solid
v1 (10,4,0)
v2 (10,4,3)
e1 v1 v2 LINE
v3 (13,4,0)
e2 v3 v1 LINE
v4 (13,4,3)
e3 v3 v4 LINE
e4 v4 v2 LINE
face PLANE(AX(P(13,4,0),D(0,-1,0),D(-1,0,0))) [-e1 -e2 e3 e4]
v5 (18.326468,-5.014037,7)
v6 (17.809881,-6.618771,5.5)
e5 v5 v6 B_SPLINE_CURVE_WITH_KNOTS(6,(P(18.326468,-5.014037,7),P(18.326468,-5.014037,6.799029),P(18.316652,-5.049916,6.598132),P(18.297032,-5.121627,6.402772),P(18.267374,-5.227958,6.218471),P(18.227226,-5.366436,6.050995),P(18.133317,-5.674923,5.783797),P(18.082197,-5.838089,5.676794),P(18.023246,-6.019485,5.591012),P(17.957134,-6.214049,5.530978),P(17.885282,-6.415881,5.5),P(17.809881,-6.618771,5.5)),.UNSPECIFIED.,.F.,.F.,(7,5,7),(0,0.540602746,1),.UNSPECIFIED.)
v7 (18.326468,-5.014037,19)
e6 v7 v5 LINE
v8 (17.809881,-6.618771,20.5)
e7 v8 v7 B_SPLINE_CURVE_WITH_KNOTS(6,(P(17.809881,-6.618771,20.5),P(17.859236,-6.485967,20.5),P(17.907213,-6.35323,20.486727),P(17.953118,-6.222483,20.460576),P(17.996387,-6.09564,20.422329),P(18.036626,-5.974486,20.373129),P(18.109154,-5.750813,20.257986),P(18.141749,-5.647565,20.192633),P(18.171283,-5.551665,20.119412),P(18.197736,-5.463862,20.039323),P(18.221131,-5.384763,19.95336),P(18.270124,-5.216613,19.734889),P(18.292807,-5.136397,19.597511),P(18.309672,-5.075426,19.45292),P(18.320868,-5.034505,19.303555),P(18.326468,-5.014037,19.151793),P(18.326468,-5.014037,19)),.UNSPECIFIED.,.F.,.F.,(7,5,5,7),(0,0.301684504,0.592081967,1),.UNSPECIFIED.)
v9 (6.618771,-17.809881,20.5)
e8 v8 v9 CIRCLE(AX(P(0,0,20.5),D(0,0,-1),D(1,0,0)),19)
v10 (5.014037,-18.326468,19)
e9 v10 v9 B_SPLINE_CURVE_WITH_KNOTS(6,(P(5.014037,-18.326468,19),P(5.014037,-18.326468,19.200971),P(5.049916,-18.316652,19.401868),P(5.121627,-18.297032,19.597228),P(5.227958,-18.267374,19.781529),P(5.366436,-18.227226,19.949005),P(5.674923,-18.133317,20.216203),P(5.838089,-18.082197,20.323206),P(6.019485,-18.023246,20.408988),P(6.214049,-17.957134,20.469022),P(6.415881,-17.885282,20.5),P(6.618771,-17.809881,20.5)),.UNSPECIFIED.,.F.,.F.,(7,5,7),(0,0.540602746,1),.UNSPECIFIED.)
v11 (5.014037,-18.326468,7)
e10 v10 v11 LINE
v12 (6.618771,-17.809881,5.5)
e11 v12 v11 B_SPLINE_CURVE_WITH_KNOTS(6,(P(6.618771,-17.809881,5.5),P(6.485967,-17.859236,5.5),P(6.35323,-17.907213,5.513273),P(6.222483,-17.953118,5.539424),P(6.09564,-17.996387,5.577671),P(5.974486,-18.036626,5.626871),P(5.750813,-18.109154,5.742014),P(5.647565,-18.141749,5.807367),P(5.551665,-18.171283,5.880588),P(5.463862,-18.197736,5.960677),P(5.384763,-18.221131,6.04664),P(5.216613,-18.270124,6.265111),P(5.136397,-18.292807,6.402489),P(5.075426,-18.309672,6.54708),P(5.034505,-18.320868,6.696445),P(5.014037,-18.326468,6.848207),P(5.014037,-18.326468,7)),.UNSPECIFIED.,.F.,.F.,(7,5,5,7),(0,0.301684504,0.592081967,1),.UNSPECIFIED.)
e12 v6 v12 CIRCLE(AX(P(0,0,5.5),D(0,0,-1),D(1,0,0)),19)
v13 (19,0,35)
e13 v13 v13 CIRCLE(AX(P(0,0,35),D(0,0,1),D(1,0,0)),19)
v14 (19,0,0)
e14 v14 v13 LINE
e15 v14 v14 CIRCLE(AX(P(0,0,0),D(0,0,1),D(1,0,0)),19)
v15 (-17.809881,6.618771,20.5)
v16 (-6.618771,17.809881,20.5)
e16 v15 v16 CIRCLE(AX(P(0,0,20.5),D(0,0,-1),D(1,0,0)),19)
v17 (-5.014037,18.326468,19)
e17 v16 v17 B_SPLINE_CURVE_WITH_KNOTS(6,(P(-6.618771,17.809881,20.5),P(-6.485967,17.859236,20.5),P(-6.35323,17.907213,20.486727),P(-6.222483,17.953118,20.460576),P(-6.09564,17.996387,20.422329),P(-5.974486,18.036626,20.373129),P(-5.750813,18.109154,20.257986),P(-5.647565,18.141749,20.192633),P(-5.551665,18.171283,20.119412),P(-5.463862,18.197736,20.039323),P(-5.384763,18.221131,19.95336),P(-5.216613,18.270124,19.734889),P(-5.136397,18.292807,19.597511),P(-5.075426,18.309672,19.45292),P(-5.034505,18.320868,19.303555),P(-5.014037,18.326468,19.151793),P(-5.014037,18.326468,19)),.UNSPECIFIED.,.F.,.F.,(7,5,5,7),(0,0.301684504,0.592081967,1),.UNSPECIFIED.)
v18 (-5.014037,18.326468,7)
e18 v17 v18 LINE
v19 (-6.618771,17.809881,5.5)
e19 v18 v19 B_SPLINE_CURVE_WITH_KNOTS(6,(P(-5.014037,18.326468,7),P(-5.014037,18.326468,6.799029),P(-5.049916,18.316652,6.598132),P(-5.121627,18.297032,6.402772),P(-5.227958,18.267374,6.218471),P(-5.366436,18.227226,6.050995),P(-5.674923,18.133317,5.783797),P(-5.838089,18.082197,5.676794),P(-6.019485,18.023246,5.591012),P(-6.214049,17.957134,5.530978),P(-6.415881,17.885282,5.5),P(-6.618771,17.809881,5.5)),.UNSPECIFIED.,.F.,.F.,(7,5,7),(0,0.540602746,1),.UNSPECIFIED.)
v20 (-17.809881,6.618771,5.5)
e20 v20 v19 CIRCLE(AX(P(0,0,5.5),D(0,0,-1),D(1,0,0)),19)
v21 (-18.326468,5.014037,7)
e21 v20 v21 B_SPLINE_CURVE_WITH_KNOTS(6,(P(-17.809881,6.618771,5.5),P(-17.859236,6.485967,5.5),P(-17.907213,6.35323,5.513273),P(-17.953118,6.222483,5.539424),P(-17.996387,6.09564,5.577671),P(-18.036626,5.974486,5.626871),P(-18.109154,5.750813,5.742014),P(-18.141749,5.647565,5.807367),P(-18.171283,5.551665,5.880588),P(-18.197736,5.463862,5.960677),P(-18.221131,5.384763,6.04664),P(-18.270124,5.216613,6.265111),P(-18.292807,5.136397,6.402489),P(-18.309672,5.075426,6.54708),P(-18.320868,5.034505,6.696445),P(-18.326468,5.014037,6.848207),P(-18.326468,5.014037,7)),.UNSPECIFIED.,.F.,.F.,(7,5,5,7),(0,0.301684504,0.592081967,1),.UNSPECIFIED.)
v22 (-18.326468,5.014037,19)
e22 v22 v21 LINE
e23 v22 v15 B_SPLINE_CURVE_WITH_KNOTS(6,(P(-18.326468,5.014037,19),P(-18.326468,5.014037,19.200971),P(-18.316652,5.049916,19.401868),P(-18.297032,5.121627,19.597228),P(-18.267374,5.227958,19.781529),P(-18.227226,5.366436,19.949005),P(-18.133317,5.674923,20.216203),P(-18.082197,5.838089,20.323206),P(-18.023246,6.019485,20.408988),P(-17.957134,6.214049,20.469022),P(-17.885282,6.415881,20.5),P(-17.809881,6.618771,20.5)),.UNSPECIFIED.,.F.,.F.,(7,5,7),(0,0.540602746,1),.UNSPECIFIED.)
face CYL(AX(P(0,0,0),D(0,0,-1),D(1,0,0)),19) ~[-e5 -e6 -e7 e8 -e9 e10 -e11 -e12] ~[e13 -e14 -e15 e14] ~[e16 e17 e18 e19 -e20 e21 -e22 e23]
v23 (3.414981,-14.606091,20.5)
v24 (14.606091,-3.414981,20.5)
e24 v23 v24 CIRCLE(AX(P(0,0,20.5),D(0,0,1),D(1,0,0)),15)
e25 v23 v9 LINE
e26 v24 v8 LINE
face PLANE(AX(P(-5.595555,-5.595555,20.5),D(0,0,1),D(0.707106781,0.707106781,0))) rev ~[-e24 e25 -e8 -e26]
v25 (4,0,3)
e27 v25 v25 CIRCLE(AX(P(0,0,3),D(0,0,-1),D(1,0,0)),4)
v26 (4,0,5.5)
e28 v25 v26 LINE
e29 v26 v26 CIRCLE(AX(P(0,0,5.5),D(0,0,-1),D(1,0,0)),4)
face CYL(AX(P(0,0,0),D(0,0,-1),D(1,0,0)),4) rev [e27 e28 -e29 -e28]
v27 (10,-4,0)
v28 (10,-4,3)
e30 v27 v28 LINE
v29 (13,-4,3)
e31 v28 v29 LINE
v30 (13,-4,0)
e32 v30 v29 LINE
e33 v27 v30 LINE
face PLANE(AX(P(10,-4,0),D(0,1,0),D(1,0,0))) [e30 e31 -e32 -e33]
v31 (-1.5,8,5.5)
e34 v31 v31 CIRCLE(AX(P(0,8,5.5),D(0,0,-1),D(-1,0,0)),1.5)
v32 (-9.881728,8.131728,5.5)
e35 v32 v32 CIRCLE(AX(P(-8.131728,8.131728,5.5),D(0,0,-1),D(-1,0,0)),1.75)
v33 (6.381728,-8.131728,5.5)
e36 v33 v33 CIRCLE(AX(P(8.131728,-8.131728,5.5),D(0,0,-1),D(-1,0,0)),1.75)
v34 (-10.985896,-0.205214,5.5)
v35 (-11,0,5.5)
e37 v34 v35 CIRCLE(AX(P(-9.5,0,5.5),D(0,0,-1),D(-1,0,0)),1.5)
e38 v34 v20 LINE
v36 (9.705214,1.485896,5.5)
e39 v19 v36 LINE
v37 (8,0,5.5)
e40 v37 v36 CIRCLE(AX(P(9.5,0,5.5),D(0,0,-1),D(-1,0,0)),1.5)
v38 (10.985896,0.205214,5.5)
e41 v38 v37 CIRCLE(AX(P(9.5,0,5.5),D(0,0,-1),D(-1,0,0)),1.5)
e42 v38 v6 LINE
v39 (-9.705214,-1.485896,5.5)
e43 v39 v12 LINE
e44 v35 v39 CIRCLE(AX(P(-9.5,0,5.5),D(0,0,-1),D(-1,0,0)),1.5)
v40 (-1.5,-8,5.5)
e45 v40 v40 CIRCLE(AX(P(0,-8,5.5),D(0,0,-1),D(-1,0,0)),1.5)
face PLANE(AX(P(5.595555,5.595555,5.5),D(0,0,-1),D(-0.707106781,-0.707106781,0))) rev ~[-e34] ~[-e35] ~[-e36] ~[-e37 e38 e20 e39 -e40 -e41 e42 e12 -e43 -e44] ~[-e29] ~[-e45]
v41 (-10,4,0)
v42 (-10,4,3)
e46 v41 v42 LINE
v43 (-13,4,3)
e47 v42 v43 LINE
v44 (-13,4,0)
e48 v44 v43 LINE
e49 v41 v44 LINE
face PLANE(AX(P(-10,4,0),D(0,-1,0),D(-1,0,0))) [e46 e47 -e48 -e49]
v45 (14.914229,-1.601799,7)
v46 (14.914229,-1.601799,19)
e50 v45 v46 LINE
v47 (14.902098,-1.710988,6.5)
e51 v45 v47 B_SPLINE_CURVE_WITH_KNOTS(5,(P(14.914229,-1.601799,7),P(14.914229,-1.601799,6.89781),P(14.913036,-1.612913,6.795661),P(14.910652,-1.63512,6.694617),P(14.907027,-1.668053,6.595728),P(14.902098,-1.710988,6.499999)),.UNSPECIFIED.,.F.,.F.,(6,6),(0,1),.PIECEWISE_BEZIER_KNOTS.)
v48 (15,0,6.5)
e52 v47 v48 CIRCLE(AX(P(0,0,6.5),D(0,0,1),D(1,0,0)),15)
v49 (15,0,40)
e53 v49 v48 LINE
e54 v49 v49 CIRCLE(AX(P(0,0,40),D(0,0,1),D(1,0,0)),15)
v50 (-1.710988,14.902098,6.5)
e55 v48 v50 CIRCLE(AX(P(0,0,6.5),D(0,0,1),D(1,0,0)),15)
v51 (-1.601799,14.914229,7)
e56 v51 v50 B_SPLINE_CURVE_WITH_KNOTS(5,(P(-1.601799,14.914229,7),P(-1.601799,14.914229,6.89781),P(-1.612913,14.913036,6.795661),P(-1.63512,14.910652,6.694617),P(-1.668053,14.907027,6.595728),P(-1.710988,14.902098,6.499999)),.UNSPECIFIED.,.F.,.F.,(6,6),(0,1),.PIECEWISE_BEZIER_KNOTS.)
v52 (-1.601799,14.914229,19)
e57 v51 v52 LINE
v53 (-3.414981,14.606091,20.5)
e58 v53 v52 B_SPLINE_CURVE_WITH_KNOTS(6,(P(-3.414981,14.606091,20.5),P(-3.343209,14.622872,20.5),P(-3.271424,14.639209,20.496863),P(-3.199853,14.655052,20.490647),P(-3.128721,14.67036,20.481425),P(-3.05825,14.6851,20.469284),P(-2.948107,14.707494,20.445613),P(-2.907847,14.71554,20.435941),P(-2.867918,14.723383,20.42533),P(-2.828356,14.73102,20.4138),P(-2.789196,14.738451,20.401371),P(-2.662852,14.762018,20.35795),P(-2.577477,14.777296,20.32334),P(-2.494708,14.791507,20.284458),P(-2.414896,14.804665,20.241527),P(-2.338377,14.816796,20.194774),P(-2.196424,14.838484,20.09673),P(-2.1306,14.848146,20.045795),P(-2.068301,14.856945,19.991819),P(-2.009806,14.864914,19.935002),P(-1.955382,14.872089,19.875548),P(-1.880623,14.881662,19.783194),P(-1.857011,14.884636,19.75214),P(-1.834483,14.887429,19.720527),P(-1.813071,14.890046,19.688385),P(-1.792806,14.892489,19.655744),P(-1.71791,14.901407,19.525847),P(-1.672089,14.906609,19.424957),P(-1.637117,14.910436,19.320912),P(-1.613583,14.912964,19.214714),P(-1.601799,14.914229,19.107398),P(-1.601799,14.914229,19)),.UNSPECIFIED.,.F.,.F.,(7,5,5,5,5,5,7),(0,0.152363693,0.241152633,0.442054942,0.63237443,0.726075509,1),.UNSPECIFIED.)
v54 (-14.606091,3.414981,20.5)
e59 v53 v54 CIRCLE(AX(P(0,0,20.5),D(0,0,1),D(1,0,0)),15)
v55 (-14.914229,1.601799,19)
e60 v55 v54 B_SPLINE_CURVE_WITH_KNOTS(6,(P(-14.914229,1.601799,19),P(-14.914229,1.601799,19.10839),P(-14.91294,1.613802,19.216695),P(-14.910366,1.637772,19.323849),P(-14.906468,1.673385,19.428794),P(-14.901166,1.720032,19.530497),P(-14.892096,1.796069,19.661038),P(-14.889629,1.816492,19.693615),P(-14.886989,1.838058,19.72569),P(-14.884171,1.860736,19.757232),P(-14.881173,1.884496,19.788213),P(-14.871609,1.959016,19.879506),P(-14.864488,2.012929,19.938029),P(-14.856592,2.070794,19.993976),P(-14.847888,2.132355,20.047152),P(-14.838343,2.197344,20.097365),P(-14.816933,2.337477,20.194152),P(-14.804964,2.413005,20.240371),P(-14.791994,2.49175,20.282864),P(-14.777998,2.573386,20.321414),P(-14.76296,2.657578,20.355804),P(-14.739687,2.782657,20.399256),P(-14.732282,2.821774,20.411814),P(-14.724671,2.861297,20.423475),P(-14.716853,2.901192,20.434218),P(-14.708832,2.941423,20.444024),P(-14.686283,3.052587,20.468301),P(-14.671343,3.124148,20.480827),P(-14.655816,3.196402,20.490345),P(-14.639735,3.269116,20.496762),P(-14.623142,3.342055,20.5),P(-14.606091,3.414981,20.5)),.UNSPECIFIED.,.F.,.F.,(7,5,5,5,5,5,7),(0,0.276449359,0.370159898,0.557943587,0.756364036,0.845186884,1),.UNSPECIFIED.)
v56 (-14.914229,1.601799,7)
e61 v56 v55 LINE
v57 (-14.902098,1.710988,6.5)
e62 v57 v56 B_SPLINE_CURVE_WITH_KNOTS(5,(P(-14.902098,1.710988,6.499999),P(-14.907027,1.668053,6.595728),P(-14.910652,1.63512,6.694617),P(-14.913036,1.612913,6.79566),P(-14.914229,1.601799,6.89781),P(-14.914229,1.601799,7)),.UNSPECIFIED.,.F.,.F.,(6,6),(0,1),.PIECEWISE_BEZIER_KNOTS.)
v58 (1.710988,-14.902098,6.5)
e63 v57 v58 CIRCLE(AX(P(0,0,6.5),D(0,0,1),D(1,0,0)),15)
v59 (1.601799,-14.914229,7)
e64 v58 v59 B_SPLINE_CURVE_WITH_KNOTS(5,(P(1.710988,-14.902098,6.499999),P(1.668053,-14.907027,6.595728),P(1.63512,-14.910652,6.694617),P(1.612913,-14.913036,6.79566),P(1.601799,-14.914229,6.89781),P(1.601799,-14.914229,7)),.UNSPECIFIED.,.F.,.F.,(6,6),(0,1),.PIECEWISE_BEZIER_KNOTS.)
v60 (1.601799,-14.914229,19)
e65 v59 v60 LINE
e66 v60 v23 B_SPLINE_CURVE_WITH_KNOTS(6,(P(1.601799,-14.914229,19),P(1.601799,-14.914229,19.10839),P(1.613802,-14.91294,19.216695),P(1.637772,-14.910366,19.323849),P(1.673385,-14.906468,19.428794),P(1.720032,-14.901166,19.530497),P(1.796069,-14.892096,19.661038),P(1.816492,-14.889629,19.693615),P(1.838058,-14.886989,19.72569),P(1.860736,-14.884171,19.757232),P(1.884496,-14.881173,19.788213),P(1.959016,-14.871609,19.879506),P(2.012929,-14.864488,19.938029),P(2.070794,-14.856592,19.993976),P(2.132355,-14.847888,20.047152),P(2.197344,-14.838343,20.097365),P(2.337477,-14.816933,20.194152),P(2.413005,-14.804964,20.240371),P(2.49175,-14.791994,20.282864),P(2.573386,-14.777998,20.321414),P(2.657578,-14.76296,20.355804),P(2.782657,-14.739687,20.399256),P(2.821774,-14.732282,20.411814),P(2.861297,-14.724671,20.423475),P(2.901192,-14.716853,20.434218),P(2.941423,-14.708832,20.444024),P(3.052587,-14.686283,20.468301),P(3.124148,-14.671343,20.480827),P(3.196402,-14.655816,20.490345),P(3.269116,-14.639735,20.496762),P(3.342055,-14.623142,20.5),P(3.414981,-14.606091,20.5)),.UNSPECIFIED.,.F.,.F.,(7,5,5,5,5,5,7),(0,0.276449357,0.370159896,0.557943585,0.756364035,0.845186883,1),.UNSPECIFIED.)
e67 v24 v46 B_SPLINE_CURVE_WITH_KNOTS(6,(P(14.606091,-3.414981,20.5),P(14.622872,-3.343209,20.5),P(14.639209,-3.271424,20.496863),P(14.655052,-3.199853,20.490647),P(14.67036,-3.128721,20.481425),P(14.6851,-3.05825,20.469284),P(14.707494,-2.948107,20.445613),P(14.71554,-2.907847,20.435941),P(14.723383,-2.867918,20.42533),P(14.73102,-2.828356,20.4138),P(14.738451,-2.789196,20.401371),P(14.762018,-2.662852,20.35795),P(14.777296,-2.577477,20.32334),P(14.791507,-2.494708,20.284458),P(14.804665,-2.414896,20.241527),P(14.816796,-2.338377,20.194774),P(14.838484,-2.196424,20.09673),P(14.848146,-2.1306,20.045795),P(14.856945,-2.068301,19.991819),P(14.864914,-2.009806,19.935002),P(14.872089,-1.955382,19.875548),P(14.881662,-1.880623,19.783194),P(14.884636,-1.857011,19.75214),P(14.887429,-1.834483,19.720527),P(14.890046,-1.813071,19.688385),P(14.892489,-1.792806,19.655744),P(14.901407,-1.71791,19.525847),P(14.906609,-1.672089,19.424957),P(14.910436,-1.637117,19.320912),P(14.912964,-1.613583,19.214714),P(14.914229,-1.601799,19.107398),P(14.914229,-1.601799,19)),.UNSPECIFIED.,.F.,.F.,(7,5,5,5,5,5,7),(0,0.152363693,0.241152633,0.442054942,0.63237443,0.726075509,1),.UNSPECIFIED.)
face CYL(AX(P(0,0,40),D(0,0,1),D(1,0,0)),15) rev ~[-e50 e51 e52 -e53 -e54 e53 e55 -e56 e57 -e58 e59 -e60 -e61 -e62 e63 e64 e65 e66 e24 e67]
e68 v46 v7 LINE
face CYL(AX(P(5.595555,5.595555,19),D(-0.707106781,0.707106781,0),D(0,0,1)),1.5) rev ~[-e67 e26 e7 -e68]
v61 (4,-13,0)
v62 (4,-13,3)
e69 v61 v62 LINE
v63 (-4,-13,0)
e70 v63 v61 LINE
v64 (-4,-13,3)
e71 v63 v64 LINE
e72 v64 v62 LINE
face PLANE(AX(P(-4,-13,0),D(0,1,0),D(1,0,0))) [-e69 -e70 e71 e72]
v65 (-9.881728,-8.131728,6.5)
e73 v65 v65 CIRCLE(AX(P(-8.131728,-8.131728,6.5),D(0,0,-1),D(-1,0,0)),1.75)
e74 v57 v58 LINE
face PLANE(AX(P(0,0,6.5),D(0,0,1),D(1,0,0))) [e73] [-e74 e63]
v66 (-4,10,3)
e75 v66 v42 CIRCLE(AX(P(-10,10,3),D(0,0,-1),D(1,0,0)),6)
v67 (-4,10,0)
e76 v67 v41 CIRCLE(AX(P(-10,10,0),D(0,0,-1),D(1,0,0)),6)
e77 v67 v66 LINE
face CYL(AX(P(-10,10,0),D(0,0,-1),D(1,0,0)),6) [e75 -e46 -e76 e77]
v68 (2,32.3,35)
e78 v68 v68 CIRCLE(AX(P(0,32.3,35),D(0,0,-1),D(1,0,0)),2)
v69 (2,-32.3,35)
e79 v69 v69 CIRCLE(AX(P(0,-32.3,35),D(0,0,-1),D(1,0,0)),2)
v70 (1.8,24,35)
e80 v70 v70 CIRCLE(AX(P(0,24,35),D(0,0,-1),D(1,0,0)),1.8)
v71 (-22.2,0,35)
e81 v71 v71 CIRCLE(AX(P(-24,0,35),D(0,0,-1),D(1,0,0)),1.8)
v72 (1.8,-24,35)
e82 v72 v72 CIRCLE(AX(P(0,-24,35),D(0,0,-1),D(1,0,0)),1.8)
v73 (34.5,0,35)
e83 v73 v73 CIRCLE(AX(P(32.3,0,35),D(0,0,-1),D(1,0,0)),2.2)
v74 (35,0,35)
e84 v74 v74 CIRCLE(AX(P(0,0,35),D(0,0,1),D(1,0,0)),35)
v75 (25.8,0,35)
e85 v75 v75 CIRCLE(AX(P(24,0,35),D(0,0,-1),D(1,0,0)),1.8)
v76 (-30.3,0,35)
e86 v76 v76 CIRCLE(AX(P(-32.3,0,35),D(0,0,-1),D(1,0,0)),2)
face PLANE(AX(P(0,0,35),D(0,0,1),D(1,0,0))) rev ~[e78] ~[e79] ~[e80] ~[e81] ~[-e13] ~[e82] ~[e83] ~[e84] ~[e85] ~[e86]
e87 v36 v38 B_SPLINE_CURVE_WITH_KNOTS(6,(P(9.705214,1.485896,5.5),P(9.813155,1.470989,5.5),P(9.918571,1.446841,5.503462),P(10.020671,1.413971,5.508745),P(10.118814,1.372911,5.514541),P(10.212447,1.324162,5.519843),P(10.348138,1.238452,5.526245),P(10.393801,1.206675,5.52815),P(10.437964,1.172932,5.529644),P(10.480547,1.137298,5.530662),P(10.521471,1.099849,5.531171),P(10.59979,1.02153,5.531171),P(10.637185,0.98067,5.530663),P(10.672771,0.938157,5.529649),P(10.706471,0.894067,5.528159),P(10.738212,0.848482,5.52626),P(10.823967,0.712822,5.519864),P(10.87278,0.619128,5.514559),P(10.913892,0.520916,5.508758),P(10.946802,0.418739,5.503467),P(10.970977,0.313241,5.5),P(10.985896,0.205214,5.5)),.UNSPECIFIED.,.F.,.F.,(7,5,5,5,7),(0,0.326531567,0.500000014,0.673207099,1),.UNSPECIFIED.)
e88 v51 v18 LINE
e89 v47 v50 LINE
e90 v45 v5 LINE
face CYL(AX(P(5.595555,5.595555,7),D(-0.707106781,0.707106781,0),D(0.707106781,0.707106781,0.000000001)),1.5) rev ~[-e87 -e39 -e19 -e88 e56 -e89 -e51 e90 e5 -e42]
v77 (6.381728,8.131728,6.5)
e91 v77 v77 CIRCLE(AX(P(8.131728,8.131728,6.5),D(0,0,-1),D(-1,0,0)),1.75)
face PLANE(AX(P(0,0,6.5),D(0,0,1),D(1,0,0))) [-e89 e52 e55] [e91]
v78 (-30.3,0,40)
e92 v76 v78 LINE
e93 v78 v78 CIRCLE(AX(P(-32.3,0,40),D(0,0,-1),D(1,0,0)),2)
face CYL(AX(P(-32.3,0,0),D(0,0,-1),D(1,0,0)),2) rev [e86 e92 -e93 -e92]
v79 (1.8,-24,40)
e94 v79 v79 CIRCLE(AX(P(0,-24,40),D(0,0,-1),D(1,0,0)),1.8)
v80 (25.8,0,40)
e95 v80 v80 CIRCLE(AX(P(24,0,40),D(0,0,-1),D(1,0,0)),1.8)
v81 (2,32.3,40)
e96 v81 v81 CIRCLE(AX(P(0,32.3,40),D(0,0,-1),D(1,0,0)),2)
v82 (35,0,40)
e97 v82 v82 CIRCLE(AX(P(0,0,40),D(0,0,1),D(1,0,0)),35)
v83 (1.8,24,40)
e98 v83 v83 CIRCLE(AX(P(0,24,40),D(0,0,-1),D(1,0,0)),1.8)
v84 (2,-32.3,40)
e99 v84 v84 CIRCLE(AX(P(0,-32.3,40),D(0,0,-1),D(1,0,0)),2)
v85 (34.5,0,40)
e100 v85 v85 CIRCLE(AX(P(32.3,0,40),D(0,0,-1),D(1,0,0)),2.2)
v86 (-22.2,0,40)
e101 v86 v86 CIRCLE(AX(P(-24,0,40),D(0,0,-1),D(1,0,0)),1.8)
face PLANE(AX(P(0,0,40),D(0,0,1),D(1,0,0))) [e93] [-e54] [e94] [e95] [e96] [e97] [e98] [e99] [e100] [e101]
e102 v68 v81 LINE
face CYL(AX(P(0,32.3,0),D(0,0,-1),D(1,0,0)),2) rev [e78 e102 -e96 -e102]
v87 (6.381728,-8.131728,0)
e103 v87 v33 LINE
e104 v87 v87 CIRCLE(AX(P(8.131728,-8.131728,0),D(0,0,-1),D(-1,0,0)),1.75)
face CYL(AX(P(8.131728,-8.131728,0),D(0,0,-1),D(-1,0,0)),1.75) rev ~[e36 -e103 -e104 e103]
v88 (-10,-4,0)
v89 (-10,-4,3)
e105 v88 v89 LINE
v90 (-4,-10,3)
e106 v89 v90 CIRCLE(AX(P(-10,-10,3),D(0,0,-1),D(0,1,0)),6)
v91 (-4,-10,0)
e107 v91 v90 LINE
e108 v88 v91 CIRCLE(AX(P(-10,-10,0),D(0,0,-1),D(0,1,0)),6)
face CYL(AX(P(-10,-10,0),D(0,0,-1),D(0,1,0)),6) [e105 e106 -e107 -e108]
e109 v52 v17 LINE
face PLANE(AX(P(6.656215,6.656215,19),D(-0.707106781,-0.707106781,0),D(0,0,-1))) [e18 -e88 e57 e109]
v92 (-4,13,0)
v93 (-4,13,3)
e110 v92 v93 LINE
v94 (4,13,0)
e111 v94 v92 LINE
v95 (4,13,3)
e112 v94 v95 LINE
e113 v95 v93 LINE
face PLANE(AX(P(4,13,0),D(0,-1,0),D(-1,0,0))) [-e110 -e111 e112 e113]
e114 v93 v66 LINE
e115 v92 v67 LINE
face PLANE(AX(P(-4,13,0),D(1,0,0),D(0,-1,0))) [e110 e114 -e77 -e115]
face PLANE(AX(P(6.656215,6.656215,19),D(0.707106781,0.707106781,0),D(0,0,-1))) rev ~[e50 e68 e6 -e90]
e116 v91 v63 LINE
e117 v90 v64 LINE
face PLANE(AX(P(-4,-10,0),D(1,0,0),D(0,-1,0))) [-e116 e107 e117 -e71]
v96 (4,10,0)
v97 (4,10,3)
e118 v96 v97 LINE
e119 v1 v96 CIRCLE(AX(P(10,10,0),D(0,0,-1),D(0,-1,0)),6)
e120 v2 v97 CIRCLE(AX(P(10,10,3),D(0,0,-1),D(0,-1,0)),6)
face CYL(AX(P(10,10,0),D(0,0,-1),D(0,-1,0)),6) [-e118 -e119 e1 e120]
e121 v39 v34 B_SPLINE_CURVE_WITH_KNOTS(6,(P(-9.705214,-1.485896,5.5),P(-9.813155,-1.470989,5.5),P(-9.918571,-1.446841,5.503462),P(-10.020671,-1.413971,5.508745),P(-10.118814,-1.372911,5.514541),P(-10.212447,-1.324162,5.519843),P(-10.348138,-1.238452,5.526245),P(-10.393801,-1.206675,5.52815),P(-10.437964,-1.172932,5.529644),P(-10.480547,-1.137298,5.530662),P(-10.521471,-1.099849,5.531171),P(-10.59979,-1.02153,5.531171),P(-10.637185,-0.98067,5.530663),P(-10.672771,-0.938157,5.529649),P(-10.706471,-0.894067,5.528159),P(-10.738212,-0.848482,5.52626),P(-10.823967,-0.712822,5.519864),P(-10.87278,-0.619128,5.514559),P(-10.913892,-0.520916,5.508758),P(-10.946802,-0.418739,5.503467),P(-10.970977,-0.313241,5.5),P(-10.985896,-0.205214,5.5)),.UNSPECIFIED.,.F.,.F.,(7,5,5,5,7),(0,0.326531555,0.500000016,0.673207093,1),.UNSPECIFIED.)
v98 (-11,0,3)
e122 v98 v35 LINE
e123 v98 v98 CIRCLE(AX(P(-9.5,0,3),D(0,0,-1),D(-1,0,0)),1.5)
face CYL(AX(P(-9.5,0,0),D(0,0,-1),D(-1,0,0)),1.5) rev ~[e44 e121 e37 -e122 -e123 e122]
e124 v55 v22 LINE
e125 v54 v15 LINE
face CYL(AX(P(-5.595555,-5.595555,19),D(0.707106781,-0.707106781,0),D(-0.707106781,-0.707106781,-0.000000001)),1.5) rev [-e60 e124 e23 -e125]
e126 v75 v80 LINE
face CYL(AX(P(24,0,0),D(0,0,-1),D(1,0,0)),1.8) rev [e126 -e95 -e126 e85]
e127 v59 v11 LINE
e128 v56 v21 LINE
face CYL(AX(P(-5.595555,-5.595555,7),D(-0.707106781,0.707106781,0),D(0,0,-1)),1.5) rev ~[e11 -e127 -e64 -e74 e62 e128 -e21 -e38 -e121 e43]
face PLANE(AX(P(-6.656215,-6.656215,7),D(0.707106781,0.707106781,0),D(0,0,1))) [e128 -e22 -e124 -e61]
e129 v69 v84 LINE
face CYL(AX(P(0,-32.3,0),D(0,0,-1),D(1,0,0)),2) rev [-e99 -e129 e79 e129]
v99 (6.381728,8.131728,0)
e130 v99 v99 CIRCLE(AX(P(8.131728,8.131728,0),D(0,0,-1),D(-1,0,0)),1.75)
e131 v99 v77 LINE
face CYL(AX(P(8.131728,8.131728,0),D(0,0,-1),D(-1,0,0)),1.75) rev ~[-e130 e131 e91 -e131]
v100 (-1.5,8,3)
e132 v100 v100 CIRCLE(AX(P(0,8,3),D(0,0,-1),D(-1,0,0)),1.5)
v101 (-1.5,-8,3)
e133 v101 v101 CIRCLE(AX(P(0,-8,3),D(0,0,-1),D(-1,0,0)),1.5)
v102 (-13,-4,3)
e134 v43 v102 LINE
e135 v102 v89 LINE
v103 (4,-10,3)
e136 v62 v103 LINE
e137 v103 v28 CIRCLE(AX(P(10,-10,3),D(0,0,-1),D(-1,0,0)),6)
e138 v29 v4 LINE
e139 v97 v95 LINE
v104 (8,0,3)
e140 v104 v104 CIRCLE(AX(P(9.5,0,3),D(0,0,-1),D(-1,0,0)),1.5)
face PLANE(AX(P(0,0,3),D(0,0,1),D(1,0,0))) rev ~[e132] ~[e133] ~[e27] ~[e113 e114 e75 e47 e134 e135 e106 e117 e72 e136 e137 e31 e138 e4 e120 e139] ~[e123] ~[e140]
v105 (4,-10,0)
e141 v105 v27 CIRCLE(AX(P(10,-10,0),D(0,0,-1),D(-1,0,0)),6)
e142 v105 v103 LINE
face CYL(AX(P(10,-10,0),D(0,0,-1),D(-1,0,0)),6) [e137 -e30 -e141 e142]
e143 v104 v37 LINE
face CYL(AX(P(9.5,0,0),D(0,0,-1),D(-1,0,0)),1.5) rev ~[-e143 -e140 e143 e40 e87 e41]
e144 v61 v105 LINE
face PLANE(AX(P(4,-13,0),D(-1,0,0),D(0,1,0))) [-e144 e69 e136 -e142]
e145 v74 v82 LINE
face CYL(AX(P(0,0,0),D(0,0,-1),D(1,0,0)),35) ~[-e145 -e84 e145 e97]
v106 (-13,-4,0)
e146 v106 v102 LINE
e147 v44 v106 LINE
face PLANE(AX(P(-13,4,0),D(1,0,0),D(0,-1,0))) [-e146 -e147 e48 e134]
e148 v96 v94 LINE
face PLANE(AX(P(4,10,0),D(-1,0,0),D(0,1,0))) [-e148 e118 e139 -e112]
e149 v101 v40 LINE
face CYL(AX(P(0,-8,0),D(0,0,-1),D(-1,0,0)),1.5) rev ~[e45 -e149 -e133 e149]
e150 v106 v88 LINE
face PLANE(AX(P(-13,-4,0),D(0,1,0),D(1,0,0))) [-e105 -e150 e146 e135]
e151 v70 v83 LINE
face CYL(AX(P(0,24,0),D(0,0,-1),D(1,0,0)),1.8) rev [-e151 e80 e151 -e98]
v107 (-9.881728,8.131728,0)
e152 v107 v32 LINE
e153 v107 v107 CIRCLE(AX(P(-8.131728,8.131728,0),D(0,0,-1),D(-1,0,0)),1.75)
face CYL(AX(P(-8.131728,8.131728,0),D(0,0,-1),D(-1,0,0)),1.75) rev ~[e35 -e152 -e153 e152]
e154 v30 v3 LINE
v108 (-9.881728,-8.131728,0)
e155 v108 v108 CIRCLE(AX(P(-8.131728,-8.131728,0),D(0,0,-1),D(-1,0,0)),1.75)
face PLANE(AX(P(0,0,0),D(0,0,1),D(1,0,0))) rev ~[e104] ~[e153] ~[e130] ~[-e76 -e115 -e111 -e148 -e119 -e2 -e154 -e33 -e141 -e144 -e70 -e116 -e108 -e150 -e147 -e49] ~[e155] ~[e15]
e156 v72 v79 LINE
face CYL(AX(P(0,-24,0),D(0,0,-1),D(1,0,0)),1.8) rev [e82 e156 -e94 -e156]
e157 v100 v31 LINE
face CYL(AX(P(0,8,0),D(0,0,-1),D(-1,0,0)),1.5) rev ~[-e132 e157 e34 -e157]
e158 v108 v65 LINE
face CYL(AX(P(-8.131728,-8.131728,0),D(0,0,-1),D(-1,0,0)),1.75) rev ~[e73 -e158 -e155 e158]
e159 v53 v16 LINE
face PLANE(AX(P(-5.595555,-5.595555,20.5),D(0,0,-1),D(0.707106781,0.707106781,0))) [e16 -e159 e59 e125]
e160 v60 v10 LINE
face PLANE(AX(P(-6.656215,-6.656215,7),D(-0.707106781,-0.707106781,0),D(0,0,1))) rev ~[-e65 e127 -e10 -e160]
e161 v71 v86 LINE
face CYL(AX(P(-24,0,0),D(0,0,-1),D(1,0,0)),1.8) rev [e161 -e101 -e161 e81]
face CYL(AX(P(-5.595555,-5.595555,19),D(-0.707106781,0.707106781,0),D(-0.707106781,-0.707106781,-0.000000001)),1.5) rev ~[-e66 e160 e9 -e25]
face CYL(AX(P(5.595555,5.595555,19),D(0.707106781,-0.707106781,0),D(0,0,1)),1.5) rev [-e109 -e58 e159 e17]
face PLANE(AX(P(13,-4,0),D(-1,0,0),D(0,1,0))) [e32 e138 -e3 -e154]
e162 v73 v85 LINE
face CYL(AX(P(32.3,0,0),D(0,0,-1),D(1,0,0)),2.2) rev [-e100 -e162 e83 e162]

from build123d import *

# Parameters (mm, degrees)
SKETCH_1_R               = 35
SKETCH_1_R_2             = 4
EXTRUDE_1_DEPTH          = 40
SKETCH_3_R               = 35
SKETCH_3_R_2             = 19
CUT_EXTRUDE_1_DEPTH      = 35
SKETCH_4_R               = 15
CUT_EXTRUDE_2_DEPTH      = 33.5
SKETCH_6_R               = 1.8
SKETCH_6_R_2             = 2
SKETCH_6_R_3             = 2.2
CUT_EXTRUDE_3_DEPTH      = 41
SKETCH_7_R               = 1.5
SKETCH_7_R_2             = 1.75
CUT_EXTRUDE_4_DEPTH      = 41
CUT_EXTRUDE_5_DEPTH      = 50.497474683
CUT_EXTRUDE_5_DEPTH_BACK = 50.497474683
SKETCH_12_R              = 1.5
SKETCH_12_R_2            = 4
CUT_EXTRUDE_6_DEPTH      = 3


with BuildPart() as part:
    # 草图1 → 凸台-拉伸1 (new body)
    with BuildSketch(Plane.XY):
        Circle(SKETCH_1_R)
        Circle(SKETCH_1_R_2, mode=Mode.SUBTRACT)
    extrude(amount=EXTRUDE_1_DEPTH)

    # 草图3 → 切除-拉伸1 (cut)
    with BuildSketch(Plane.XY):
        Circle(SKETCH_3_R)
        Circle(SKETCH_3_R_2, mode=Mode.SUBTRACT)
    extrude(amount=CUT_EXTRUDE_1_DEPTH, mode=Mode.SUBTRACT)

    # 草图4 → 切除-拉伸2 (cut)
    with BuildSketch(Plane.XY.offset(40)):
        Circle(SKETCH_4_R)
    extrude(amount=-CUT_EXTRUDE_2_DEPTH, mode=Mode.SUBTRACT)

    # 草图6 → 切除-拉伸3 (cut, through all)
    with BuildSketch(Plane.XY):
        with Locations((-24, 0)):
            Circle(SKETCH_6_R)
        with Locations((0, -24)):
            Circle(SKETCH_6_R)
        with Locations((24, 0)):
            Circle(SKETCH_6_R)
        with Locations((0, 24)):
            Circle(SKETCH_6_R)
        with Locations((-32.3, 0)):
            Circle(SKETCH_6_R_2)
        with Locations((32.3, 0)):
            Circle(SKETCH_6_R_3)
        with Locations((0, 32.3)):
            Circle(SKETCH_6_R_2)
        with Locations((0, -32.3)):
            Circle(SKETCH_6_R_2)
    extrude(amount=CUT_EXTRUDE_3_DEPTH, mode=Mode.SUBTRACT)

    # 草图7 → 切除-拉伸4 (cut, through all)
    with BuildSketch(Plane(origin=(0, 0, 0), x_dir=(-1, 0, 0), z_dir=(0, 0, -1))):
        with Locations((-9.5, 0)):
            Circle(SKETCH_7_R)
        with Locations((0, 8)):
            Circle(SKETCH_7_R)
        with Locations((9.5, 0)):
            Circle(SKETCH_7_R)
        with Locations((0, -8)):
            Circle(SKETCH_7_R)
        with Locations((-8.131727984, -8.131727984)):
            Circle(SKETCH_7_R_2)
        with Locations((-8.131727984, 8.131727984)):
            Circle(SKETCH_7_R_2)
        with Locations((8.131727984, 8.131727984)):
            Circle(SKETCH_7_R_2)
        with Locations((8.131727984, -8.131727984)):
            Circle(SKETCH_7_R_2)
    extrude(amount=-CUT_EXTRUDE_4_DEPTH, mode=Mode.SUBTRACT)

    # 草图9 → 切除-拉伸5 (cut, two sides)
    with BuildSketch(Plane(origin=(0, 0, 0), x_dir=(0.707106781, 0.707106781, 0), z_dir=(0.707106781, -0.707106781, 0))) as cut_extrude_5_sk:
        with BuildLine():
            Line((-7.91330988, 20.5), (7.91330988, 20.5))
            ThreePointArc((7.91330988, 20.5), (8.973970052, 20.060660172), (9.41330988, 19))
            Line((9.41330988, 19), (9.41330988, 7))
            ThreePointArc((9.41330988, 7), (8.973970052, 5.939339828), (7.91330988, 5.5))
            Line((7.91330988, 5.5), (-7.91330988, 5.5))
            ThreePointArc((-7.91330988, 5.5), (-8.973970052, 5.939339828), (-9.41330988, 7))
            Line((-9.41330988, 7), (-9.41330988, 19))
            ThreePointArc((-9.41330988, 19), (-8.973970052, 20.060660172), (-7.91330988, 20.5))
        make_face()
    extrude(amount=CUT_EXTRUDE_5_DEPTH, mode=Mode.SUBTRACT)
    extrude(cut_extrude_5_sk.sketch, amount=-CUT_EXTRUDE_5_DEPTH_BACK, mode=Mode.SUBTRACT)

    # 草图12 → 切除-拉伸6 (cut)
    with BuildSketch(Plane(origin=(0, 0, 0), x_dir=(-1, 0, 0), z_dir=(0, 0, -1))):
        with BuildLine():
            ThreePointArc((10, -4), (5.757359313, -5.757359313), (4, -10))
            Line((4, -10), (4, -13))
            Line((4, -13), (0, -13))
            Line((0, -13), (-4, -13))
            Line((-4, -13), (-4, -10))
            ThreePointArc((-4, -10), (-5.757359313, -5.757359313), (-10, -4))
            Line((-10, -4), (-13, -4))
            Line((-13, -4), (-13, 0))
            Line((-13, 0), (-13, 4))
            Line((-13, 4), (-10, 4))
            ThreePointArc((-10, 4), (-5.757359313, 5.757359313), (-4, 10))
            Line((-4, 10), (-4, 13))
            Line((-4, 13), (0, 13))
            Line((0, 13), (4, 13))
            Line((4, 13), (4, 10))
            ThreePointArc((4, 10), (5.757359313, 5.757359313), (10, 4))
            Line((10, 4), (13, 4))
            Line((13, 4), (13, 0))
            Line((13, 0), (13, -4))
            Line((13, -4), (10, -4))
        make_face()
        with Locations((9.5, 0)):
            Circle(SKETCH_12_R, mode=Mode.SUBTRACT)
        with Locations((-9.5, 0)):
            Circle(SKETCH_12_R, mode=Mode.SUBTRACT)
        Circle(SKETCH_12_R_2, mode=Mode.SUBTRACT)
        with Locations((0, -8)):
            Circle(SKETCH_12_R, mode=Mode.SUBTRACT)
        with Locations((0, 8)):
            Circle(SKETCH_12_R, mode=Mode.SUBTRACT)
    extrude(amount=-CUT_EXTRUDE_6_DEPTH, mode=Mode.SUBTRACT)


solid = part.part
